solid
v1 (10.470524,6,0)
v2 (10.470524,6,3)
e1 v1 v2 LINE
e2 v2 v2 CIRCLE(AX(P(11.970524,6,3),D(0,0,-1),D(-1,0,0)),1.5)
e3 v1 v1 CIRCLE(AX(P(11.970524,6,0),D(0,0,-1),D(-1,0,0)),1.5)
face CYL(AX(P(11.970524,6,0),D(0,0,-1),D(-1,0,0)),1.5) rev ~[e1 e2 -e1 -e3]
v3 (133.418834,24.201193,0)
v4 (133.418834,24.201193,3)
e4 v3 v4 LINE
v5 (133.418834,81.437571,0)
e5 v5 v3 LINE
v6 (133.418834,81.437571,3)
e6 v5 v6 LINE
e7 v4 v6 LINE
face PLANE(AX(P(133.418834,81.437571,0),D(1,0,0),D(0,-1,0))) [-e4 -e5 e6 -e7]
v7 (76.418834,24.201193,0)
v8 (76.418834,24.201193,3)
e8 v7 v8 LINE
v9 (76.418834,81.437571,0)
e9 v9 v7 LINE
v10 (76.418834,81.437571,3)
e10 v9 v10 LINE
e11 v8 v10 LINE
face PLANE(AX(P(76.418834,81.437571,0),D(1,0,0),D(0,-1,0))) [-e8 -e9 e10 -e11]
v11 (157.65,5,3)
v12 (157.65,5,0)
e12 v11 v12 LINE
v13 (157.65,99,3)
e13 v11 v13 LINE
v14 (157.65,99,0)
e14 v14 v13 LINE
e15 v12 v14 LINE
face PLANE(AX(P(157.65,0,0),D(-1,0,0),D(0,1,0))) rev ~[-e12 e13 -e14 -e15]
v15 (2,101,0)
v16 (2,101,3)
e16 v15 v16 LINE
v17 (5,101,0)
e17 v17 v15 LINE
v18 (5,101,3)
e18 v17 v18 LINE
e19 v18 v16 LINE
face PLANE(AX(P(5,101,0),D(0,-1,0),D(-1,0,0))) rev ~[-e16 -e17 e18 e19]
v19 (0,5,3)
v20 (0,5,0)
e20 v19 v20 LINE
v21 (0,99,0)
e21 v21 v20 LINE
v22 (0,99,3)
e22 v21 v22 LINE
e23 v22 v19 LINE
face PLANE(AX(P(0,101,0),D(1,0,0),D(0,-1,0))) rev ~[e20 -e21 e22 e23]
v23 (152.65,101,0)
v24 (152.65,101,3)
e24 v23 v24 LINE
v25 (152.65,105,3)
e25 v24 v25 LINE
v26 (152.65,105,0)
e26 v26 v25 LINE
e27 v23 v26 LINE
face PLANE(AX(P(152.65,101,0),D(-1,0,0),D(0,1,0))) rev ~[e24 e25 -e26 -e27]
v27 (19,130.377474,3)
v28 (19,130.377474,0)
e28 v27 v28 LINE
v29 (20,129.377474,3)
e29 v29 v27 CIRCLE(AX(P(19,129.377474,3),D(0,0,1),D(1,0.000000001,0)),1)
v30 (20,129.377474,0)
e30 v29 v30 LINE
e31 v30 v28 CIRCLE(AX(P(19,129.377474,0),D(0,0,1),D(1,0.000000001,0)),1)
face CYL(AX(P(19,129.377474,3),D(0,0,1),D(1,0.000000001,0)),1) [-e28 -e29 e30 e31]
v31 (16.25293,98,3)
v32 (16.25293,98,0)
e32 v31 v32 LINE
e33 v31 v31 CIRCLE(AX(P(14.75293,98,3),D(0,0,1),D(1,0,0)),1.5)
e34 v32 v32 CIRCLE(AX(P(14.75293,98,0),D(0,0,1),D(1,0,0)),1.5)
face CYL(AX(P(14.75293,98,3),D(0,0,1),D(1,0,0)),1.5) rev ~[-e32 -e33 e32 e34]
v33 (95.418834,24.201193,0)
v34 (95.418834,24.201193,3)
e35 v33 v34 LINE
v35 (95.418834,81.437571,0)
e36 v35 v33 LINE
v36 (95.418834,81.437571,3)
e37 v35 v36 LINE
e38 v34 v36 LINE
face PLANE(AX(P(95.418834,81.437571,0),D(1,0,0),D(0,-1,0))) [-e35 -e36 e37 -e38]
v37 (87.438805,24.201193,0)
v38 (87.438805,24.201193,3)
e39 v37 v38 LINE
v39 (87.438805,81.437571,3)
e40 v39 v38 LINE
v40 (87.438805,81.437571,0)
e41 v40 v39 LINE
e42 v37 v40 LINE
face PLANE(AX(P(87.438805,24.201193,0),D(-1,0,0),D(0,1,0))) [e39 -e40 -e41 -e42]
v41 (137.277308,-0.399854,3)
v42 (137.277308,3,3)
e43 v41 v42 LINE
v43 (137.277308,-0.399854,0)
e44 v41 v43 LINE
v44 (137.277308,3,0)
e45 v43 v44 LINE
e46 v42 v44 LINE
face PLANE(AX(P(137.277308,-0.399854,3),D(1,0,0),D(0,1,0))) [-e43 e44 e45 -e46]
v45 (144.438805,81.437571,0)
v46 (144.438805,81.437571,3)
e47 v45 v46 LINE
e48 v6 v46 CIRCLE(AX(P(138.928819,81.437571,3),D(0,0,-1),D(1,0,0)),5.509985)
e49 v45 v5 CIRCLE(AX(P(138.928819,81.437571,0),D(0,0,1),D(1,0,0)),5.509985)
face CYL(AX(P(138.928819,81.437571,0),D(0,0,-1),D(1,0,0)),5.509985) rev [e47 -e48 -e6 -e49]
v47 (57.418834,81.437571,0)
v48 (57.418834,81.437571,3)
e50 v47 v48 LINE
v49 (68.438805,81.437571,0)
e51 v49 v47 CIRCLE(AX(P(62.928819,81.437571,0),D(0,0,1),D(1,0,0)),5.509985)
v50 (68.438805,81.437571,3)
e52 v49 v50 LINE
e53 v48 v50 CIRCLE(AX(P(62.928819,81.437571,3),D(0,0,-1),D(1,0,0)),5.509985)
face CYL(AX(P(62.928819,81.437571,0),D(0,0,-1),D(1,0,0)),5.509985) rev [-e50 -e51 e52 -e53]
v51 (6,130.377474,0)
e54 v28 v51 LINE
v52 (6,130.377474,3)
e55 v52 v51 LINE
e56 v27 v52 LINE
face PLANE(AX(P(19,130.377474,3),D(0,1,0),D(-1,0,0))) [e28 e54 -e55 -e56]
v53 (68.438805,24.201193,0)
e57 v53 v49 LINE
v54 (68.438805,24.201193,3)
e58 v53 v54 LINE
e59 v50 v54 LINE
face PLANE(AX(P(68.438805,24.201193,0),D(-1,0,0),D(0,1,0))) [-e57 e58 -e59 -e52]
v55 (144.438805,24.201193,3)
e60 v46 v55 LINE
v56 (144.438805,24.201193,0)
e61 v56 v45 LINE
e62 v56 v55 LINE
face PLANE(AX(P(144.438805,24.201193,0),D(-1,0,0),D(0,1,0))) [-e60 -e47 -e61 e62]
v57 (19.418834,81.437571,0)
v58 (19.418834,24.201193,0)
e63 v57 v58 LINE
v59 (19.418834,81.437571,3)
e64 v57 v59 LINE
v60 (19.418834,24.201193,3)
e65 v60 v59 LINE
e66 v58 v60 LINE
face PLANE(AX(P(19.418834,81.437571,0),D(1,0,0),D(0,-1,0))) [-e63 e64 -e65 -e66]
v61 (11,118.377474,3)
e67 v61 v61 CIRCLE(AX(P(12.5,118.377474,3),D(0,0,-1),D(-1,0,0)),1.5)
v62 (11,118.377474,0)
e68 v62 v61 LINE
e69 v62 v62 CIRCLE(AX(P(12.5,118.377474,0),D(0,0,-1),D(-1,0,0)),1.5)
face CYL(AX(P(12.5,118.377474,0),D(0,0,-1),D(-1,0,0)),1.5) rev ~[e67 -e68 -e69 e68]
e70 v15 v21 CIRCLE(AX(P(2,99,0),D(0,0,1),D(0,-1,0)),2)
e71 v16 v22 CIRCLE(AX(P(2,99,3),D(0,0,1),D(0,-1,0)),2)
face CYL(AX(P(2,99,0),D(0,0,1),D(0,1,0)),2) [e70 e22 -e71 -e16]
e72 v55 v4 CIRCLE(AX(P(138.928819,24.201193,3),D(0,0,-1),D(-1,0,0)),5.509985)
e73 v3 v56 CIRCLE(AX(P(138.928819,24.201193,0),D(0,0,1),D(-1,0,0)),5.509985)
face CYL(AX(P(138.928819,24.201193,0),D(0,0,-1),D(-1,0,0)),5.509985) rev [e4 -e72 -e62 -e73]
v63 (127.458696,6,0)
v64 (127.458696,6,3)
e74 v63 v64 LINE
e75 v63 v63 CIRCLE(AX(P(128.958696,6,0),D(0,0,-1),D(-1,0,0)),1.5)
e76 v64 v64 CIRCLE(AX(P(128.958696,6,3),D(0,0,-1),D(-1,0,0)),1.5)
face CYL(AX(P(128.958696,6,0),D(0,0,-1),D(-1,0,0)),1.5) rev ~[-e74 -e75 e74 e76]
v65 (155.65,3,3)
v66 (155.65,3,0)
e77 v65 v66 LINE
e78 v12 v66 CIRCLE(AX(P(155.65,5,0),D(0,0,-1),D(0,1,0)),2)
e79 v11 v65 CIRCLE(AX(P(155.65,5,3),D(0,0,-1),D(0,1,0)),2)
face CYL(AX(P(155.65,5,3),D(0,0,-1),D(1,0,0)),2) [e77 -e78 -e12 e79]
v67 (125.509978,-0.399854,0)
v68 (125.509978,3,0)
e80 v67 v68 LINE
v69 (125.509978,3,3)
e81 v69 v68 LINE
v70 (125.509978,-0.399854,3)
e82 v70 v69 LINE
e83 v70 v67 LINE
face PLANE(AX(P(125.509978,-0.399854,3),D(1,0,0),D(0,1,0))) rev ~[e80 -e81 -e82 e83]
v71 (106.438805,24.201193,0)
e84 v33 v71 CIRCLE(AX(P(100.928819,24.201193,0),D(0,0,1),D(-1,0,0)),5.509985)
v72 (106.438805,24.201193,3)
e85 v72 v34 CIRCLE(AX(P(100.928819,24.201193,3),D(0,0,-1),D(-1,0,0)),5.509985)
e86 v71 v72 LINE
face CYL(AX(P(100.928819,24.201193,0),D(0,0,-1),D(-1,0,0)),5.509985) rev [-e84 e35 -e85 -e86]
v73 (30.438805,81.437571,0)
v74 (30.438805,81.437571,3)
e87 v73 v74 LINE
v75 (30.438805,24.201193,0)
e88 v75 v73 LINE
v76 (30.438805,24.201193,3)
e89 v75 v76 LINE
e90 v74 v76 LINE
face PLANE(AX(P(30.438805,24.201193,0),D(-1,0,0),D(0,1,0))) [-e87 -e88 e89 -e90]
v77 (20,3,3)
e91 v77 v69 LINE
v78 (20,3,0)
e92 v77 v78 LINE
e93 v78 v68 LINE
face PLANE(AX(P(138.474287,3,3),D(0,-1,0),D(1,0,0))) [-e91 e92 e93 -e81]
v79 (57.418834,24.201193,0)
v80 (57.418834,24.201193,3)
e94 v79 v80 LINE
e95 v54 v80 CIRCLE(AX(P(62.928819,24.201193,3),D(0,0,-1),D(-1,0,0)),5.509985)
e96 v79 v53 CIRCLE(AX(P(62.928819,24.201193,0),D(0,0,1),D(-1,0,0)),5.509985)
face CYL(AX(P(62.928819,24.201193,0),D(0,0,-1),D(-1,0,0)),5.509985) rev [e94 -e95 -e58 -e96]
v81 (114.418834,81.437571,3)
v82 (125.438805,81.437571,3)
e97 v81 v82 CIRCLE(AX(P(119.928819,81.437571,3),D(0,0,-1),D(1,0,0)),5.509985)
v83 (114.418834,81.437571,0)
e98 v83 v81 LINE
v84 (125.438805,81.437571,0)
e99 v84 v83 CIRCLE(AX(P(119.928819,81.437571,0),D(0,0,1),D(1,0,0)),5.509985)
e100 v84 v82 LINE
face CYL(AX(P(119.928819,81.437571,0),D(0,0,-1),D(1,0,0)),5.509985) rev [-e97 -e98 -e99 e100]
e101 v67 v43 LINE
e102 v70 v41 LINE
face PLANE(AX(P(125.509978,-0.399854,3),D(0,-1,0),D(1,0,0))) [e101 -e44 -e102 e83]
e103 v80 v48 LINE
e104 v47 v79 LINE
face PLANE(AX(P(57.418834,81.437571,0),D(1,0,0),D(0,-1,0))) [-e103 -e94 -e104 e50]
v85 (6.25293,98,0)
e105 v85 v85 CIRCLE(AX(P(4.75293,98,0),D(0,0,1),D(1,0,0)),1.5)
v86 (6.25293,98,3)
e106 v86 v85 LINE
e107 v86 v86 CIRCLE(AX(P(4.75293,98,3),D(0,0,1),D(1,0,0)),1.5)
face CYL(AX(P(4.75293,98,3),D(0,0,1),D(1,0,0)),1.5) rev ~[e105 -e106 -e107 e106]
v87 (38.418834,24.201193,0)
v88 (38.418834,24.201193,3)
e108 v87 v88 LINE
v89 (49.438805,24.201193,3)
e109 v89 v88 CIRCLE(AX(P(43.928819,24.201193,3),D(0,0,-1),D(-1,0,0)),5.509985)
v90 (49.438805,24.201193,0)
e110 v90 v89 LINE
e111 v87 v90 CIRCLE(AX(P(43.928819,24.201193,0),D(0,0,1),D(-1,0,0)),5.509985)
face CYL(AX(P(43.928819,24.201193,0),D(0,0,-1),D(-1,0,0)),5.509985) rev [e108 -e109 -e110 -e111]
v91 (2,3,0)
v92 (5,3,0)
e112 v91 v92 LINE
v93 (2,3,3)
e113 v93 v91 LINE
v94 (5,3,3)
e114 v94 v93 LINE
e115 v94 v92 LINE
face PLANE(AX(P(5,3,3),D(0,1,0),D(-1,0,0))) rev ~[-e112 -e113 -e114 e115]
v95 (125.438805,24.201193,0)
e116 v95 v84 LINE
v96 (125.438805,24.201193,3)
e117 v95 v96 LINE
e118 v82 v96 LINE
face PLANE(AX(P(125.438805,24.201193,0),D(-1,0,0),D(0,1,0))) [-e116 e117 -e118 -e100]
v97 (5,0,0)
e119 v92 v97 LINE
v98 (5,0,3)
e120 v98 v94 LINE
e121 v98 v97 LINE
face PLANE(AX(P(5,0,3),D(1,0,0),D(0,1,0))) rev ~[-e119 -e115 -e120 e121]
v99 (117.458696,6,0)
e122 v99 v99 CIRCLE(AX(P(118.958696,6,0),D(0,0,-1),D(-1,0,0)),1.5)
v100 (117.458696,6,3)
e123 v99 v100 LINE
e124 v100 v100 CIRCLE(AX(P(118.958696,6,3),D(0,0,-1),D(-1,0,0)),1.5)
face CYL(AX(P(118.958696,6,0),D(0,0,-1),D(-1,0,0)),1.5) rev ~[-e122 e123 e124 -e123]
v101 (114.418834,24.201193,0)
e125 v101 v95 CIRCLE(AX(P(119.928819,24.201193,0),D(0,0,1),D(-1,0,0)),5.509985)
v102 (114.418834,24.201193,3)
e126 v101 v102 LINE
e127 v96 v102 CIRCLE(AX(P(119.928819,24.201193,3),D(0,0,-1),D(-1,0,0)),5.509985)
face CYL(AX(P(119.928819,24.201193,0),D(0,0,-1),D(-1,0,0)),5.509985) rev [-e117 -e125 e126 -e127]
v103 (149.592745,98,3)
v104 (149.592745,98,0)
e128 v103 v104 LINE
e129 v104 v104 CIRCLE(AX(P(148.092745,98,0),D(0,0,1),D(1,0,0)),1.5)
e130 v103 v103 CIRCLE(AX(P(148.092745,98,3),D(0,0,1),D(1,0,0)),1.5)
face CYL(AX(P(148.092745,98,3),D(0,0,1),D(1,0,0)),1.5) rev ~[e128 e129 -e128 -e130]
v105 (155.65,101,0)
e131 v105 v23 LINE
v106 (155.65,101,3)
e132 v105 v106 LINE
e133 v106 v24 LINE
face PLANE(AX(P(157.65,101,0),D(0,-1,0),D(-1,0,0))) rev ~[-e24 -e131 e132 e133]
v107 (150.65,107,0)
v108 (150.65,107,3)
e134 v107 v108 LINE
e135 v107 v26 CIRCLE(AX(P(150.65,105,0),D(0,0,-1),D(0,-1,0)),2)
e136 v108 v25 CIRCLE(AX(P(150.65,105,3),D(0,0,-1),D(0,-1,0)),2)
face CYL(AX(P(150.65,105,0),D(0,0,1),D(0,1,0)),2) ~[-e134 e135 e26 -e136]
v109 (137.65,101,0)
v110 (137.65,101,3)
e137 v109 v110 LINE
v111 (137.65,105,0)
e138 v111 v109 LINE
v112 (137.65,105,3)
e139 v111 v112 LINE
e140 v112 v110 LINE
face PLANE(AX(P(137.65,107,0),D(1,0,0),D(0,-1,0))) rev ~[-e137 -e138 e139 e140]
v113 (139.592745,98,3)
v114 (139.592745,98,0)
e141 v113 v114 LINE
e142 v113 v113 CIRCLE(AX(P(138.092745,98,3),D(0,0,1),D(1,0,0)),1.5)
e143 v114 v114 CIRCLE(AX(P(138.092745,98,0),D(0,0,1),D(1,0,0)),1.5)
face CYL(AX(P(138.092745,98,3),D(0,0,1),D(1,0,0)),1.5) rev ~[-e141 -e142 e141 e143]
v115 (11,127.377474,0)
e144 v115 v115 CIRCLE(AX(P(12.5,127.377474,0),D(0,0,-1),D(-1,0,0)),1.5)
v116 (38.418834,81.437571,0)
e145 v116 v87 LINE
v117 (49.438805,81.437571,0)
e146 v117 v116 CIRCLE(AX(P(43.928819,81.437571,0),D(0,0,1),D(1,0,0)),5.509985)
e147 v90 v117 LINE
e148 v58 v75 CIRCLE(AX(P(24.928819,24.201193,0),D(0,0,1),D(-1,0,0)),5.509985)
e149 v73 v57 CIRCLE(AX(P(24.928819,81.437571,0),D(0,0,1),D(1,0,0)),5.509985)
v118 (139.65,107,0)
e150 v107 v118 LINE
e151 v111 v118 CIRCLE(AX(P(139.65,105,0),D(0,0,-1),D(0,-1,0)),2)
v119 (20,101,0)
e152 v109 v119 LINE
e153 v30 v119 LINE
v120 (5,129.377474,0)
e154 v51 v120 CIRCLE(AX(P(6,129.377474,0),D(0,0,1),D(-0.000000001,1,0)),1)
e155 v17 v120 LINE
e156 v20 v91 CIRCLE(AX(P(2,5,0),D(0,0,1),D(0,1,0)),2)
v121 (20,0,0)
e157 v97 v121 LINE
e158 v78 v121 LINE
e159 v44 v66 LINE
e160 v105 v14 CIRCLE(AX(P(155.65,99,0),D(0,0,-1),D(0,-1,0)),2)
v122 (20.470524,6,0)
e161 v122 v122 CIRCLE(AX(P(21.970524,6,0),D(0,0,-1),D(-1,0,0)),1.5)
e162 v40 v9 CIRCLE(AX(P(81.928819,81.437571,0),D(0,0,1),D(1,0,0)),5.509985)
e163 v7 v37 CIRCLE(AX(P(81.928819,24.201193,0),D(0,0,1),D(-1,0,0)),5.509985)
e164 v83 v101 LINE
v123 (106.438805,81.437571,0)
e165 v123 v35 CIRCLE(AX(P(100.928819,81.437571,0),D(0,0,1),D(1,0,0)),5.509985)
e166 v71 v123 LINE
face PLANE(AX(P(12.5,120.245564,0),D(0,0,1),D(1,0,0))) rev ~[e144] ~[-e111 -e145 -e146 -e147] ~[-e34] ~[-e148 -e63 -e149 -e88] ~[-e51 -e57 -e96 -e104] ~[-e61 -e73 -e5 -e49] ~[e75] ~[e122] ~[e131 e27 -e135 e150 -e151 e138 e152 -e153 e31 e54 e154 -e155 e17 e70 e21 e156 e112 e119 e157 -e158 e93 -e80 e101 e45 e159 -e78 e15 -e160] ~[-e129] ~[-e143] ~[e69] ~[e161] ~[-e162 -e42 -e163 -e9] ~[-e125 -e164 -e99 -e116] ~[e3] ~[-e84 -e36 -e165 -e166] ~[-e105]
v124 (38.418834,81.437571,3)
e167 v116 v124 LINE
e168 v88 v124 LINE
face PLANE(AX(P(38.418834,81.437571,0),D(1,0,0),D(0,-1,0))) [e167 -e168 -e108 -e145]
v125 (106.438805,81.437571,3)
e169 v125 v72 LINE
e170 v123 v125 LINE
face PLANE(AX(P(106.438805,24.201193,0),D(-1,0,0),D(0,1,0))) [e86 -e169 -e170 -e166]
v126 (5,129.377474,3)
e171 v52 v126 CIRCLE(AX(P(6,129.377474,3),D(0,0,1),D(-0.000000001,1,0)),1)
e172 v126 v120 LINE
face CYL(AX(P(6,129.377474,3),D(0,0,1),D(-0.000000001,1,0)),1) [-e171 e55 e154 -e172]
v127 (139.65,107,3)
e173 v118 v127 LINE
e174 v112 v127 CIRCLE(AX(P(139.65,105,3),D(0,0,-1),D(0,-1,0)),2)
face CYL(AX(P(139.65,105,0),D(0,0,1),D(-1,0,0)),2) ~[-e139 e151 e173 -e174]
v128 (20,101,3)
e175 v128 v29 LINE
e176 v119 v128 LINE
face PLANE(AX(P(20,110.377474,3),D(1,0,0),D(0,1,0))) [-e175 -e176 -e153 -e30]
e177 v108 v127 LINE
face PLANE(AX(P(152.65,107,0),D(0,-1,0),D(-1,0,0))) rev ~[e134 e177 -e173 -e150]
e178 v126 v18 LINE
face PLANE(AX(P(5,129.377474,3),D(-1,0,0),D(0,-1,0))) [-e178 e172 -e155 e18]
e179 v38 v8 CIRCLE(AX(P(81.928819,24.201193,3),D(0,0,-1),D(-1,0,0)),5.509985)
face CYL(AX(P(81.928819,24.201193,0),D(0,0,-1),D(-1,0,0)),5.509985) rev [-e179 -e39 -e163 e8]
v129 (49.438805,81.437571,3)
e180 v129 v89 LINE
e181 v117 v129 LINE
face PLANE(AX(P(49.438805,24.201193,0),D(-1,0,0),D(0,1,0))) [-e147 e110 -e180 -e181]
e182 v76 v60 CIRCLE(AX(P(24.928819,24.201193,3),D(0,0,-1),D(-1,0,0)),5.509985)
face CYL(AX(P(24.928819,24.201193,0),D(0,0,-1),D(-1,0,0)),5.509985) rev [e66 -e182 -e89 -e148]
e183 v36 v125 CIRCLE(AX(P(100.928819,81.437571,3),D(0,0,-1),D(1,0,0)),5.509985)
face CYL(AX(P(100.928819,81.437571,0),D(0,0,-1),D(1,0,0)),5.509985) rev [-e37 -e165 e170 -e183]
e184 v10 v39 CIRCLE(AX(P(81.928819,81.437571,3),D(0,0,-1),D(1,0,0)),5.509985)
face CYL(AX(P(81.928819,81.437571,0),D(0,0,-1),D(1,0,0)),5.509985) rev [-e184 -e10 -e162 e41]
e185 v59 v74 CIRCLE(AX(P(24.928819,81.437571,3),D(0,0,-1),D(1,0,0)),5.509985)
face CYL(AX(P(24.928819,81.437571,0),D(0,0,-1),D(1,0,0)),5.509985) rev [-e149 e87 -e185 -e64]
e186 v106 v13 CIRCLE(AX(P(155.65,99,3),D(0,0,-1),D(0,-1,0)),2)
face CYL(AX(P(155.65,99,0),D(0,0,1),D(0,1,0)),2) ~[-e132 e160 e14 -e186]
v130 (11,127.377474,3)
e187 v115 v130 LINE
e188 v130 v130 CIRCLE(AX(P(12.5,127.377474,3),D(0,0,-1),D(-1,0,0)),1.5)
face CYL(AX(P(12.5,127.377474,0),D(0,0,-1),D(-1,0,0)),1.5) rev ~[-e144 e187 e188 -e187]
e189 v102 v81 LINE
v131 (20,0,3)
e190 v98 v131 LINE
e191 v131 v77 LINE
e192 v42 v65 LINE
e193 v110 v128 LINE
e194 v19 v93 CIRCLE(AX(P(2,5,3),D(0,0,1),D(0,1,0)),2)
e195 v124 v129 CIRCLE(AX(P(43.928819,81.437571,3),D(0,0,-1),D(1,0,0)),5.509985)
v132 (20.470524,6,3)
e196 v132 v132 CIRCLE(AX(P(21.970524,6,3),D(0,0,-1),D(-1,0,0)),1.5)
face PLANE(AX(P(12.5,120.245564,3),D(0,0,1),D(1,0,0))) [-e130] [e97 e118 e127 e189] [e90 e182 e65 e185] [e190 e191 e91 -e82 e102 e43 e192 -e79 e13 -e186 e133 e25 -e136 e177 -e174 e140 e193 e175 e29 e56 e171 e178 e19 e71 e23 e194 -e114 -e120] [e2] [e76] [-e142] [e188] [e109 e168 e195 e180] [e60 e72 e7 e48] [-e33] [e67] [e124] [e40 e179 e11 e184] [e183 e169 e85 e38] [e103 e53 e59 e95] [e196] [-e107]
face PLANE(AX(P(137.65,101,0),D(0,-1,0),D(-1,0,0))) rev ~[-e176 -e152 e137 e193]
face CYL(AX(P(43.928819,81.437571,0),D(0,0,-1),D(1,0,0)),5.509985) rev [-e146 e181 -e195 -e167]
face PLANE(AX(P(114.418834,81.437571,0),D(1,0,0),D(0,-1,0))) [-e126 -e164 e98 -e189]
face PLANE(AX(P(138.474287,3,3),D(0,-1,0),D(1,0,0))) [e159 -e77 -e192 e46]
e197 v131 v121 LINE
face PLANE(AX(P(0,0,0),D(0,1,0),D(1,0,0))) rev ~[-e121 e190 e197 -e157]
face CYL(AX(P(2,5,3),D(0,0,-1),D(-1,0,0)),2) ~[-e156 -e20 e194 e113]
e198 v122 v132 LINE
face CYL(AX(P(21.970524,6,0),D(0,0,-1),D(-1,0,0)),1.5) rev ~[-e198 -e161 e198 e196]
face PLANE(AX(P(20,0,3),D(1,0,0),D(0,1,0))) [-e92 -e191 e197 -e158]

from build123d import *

# Parameters (mm, degrees)
EXTRUDE_1_DEPTH      = 3
SKETCH_2_W           = 15
SKETCH_2_H           = 3
EXTRUDE_2_DEPTH      = 0.5
FILLET_4_R           = 0.5
SKETCH_6_W           = 118.474287265
SKETCH_6_H           = 3
CUT_EXTRUDE_3_DEPTH  = 10
SKETCH_10_R          = 1.5
CUT_EXTRUDE_7_DEPTH  = 191.555825154
SKETCH_11_R          = 1.5
CUT_EXTRUDE_8_DEPTH  = 191.555825154
SKETCH_15_W          = 15
SKETCH_15_H          = 9
EXTRUDE_4_DEPTH      = 3
FILLET_7_R           = 1
SKETCH_16_R          = 1.5
CUT_EXTRUDE_9_DEPTH  = 194.047828552
EXTRUDE_5_DEPTH      = 3
CUT_EXTRUDE_10_DEPTH = 10
FILLET_8_R           = 2
SKETCH_19_W          = 19.175712735
SKETCH_19_H          = 3
CUT_EXTRUDE_11_DEPTH = 10
FILLET_9_R           = 2
SKETCH_20_W          = 11.767330379
SKETCH_20_H          = 3.399854124
EXTRUDE_6_DEPTH      = 3
SKETCH_21_R          = 1.5
CUT_EXTRUDE_12_DEPTH = 10
SKETCH_23_R          = 1.5
CUT_EXTRUDE_13_DEPTH = 10


with BuildPart() as part:
    # 草图1 → 凸台-拉伸1 (new body)
    with BuildSketch(Plane.XY):
        Polygon((0, 101), (0, 0), (157.65, 0), (157.65, 101), (152.65, 101), (152.65, 107), (137.65, 107), (137.65, 101), (20, 101), (20, 104), (5, 104), (5, 101), align=None)
    extrude(amount=EXTRUDE_1_DEPTH)

    # 草图2 → 凸台-拉伸2 (add)
    with BuildSketch(Plane(origin=(0, 104, 0), x_dir=(1, 0, 0), z_dir=(0, 1, 0))):
        with Locations((12.5, -1.5)):
            Rectangle(SKETCH_2_W, SKETCH_2_H)
    extrude(amount=EXTRUDE_2_DEPTH)

    # 圆角4
    fillet_4_edges = [part.edges().sort_by_distance(p)[0] for p in [
        (0, 0, 1.5),
    ]]
    fillet(fillet_4_edges, radius=FILLET_4_R)

    # 草图6 → 切除-拉伸3 (cut)
    with BuildSketch(Plane.XY.offset(3)):
        with BuildLine():
            Line((5, 3), (0, 3))
            Line((0, 3), (0, 0.5))
            ThreePointArc((0, 0.5), (0.146446609, 0.146446609), (0.5, 0))
            Line((0.5, 0), (5, 0))
            Line((5, 0), (5, 3))
        make_face()
        with Locations((79.237143633, 1.5)):
            Rectangle(SKETCH_6_W, SKETCH_6_H)
    extrude(amount=-CUT_EXTRUDE_3_DEPTH, mode=Mode.SUBTRACT)

    # 草图10 → 切除-拉伸7 (cut, through all)
    with BuildSketch(Plane(origin=(0, 0, 0), x_dir=(-1, 0, 0), z_dir=(0, 0, -1))):
        with Locations((-21.970523915, 6)):
            Circle(SKETCH_10_R)
        with Locations((-11.970523915, 6)):
            Circle(SKETCH_10_R)
    extrude(amount=-CUT_EXTRUDE_7_DEPTH, mode=Mode.SUBTRACT)

    # 草图11 → 切除-拉伸8 (cut, through all)
    with BuildSketch(Plane(origin=(0, 0, 0), x_dir=(-1, 0, 0), z_dir=(0, 0, -1))):
        with Locations((-128.958696033, 6)):
            Circle(SKETCH_11_R)
        with Locations((-118.958696033, 6)):
            Circle(SKETCH_11_R)
    extrude(amount=-CUT_EXTRUDE_8_DEPTH, mode=Mode.SUBTRACT)

    # 草图15 → 凸台-拉伸4 (add)
    with BuildSketch(Plane(origin=(0, 0, 0), x_dir=(-1, 0, 0), z_dir=(0, 0, -1))):
        with Locations((-12.5, 106.877473525)):
            Rectangle(SKETCH_15_W, SKETCH_15_H)
    extrude(amount=-EXTRUDE_4_DEPTH)

    # 圆角7
    fillet_7_edges = [part.edges().sort_by_distance(p)[0] for p in [
        (5, 111.377473525, 1.5),
        (20, 111.377473525, 1.5),
    ]]
    fillet(fillet_7_edges, radius=FILLET_7_R)

    # 草图16 → 切除-拉伸9 (cut, through all)
    with BuildSketch(Plane.XY.offset(3)):
        with Locations((4.752930025, 98)):
            Circle(SKETCH_16_R)
        with Locations((14.752930025, 98)):
            Circle(SKETCH_16_R)
    extrude(amount=-CUT_EXTRUDE_9_DEPTH, mode=Mode.SUBTRACT)

    # 草图17 → 凸台-拉伸5 (add)
    with BuildSketch(Plane.XY.offset(3)):
        with BuildLine():
            Line((19, 130.377473525), (6, 130.377473525))
            ThreePointArc((6, 130.377473525), (5.292893219, 130.084580306), (5, 129.377473525))
            Line((5, 129.377473525), (5, 110.377473525))
            Line((5, 110.377473525), (20, 110.377473525))
            Line((20, 110.377473525), (20, 129.377473525))
            ThreePointArc((20, 129.377473525), (19.707106781, 130.084580306), (19, 130.377473525))
        make_face()
    extrude(amount=-EXTRUDE_5_DEPTH)

    # 草图18 → 切除-拉伸10 (cut)
    with BuildSketch(Plane(origin=(0, 0, 0), x_dir=(-1, 0, 0), z_dir=(0, 0, -1))):
        with BuildLine():
            Line((-133.418834054, 81.437570997), (-133.418834054, 24.201192967))
            ThreePointArc((-133.418834054, 24.201192967), (-138.928819365, 18.691207656), (-144.438804677, 24.201192967))
            Line((-144.438804677, 24.201192967), (-144.438804677, 81.437570997))
            ThreePointArc((-144.438804677, 81.437570997), (-138.928819365, 86.947556308), (-133.418834054, 81.437570997))
        make_face()
        with BuildLine():
            Line((-114.418834054, 81.437570997), (-114.418834054, 24.201192967))
            ThreePointArc((-114.418834054, 24.201192967), (-119.928819365, 18.691207656), (-125.438804677, 24.201192967))
            Line((-125.438804677, 24.201192967), (-125.438804677, 81.437570997))
            ThreePointArc((-125.438804677, 81.437570997), (-119.928819365, 86.947556308), (-114.418834054, 81.437570997))
        make_face()
        with BuildLine():
            Line((-95.418834054, 81.437570997), (-95.418834054, 24.201192967))
            ThreePointArc((-95.418834054, 24.201192967), (-100.928819365, 18.691207656), (-106.438804677, 24.201192967))
            Line((-106.438804677, 24.201192967), (-106.438804677, 81.437570997))
            ThreePointArc((-106.438804677, 81.437570997), (-100.928819365, 86.947556308), (-95.418834054, 81.437570997))
        make_face()
        with BuildLine():
            Line((-76.418834054, 81.437570997), (-76.418834054, 24.201192967))
            ThreePointArc((-76.418834054, 24.201192967), (-81.928819365, 18.691207656), (-87.438804677, 24.201192967))
            Line((-87.438804677, 24.201192967), (-87.438804677, 81.437570997))
            ThreePointArc((-87.438804677, 81.437570997), (-81.928819365, 86.947556308), (-76.418834054, 81.437570997))
        make_face()
        with BuildLine():
            Line((-57.418834054, 81.437570997), (-57.418834054, 24.201192967))
            ThreePointArc((-57.418834054, 24.201192967), (-62.928819365, 18.691207656), (-68.438804677, 24.201192967))
            Line((-68.438804677, 24.201192967), (-68.438804677, 81.437570997))
            ThreePointArc((-68.438804677, 81.437570997), (-62.928819365, 86.947556308), (-57.418834054, 81.437570997))
        make_face()
        with BuildLine():
            Line((-38.418834054, 81.437570997), (-38.418834054, 24.201192967))
            ThreePointArc((-38.418834054, 24.201192967), (-43.928819365, 18.691207656), (-49.438804677, 24.201192967))
            Line((-49.438804677, 24.201192967), (-49.438804677, 81.437570997))
            ThreePointArc((-49.438804677, 81.437570997), (-43.928819365, 86.947556308), (-38.418834054, 81.437570997))
        make_face()
        with BuildLine():
            Line((-19.418834054, 81.437570997), (-19.418834054, 24.201192967))
            ThreePointArc((-19.418834054, 24.201192967), (-24.928819365, 18.691207656), (-30.438804677, 24.201192967))
            Line((-30.438804677, 24.201192967), (-30.438804677, 81.437570997))
            ThreePointArc((-30.438804677, 81.437570997), (-24.928819365, 86.947556308), (-19.418834054, 81.437570997))
        make_face()
    extrude(amount=-CUT_EXTRUDE_10_DEPTH, mode=Mode.SUBTRACT)

    # 圆角8
    fillet_8_edges = [part.edges().sort_by_distance(p)[0] for p in [
        (157.65, 101, 1.5),
        (0, 101, 1.5),
        (137.65, 107, 1.5),
        (152.65, 107, 1.5),
        (0, 3, 1.5),
    ]]
    fillet(fillet_8_edges, radius=FILLET_8_R)

    # 草图19 → 切除-拉伸11 (cut)
    with BuildSketch(Plane.XY.offset(3)):
        with Locations((148.062143633, 1.5)):
            Rectangle(SKETCH_19_W, SKETCH_19_H)
    extrude(amount=-CUT_EXTRUDE_11_DEPTH, mode=Mode.SUBTRACT)

    # 圆角9
    fillet_9_edges = [part.edges().sort_by_distance(p)[0] for p in [
        (157.65, 3, 1.5),
    ]]
    fillet(fillet_9_edges, radius=FILLET_9_R)

    # 草图20 → 凸台-拉伸6 (add)
    with BuildSketch(Plane.XY.offset(3)):
        with Locations((131.393642897, 1.300072938)):
            Rectangle(SKETCH_20_W, SKETCH_20_H)
    extrude(amount=-EXTRUDE_6_DEPTH)

    # 草图21 → 切除-拉伸12 (cut)
    with BuildSketch(Plane(origin=(0, 0, 0), x_dir=(-1, 0, 0), z_dir=(0, 0, -1))):
        with Locations((-12.5, 127.377473525)):
            Circle(SKETCH_21_R)
        with Locations((-12.5, 118.377473525)):
            Circle(SKETCH_21_R)
    extrude(amount=-CUT_EXTRUDE_12_DEPTH, mode=Mode.SUBTRACT)

    # 草图23 → 切除-拉伸13 (cut)
    with BuildSketch(Plane.XY.offset(3)):
        with Locations((148.09274498, 98)):
            Circle(SKETCH_23_R)
        with Locations((138.09274498, 98)):
            Circle(SKETCH_23_R)
    extrude(amount=-CUT_EXTRUDE_13_DEPTH, mode=Mode.SUBTRACT)


solid = part.part
